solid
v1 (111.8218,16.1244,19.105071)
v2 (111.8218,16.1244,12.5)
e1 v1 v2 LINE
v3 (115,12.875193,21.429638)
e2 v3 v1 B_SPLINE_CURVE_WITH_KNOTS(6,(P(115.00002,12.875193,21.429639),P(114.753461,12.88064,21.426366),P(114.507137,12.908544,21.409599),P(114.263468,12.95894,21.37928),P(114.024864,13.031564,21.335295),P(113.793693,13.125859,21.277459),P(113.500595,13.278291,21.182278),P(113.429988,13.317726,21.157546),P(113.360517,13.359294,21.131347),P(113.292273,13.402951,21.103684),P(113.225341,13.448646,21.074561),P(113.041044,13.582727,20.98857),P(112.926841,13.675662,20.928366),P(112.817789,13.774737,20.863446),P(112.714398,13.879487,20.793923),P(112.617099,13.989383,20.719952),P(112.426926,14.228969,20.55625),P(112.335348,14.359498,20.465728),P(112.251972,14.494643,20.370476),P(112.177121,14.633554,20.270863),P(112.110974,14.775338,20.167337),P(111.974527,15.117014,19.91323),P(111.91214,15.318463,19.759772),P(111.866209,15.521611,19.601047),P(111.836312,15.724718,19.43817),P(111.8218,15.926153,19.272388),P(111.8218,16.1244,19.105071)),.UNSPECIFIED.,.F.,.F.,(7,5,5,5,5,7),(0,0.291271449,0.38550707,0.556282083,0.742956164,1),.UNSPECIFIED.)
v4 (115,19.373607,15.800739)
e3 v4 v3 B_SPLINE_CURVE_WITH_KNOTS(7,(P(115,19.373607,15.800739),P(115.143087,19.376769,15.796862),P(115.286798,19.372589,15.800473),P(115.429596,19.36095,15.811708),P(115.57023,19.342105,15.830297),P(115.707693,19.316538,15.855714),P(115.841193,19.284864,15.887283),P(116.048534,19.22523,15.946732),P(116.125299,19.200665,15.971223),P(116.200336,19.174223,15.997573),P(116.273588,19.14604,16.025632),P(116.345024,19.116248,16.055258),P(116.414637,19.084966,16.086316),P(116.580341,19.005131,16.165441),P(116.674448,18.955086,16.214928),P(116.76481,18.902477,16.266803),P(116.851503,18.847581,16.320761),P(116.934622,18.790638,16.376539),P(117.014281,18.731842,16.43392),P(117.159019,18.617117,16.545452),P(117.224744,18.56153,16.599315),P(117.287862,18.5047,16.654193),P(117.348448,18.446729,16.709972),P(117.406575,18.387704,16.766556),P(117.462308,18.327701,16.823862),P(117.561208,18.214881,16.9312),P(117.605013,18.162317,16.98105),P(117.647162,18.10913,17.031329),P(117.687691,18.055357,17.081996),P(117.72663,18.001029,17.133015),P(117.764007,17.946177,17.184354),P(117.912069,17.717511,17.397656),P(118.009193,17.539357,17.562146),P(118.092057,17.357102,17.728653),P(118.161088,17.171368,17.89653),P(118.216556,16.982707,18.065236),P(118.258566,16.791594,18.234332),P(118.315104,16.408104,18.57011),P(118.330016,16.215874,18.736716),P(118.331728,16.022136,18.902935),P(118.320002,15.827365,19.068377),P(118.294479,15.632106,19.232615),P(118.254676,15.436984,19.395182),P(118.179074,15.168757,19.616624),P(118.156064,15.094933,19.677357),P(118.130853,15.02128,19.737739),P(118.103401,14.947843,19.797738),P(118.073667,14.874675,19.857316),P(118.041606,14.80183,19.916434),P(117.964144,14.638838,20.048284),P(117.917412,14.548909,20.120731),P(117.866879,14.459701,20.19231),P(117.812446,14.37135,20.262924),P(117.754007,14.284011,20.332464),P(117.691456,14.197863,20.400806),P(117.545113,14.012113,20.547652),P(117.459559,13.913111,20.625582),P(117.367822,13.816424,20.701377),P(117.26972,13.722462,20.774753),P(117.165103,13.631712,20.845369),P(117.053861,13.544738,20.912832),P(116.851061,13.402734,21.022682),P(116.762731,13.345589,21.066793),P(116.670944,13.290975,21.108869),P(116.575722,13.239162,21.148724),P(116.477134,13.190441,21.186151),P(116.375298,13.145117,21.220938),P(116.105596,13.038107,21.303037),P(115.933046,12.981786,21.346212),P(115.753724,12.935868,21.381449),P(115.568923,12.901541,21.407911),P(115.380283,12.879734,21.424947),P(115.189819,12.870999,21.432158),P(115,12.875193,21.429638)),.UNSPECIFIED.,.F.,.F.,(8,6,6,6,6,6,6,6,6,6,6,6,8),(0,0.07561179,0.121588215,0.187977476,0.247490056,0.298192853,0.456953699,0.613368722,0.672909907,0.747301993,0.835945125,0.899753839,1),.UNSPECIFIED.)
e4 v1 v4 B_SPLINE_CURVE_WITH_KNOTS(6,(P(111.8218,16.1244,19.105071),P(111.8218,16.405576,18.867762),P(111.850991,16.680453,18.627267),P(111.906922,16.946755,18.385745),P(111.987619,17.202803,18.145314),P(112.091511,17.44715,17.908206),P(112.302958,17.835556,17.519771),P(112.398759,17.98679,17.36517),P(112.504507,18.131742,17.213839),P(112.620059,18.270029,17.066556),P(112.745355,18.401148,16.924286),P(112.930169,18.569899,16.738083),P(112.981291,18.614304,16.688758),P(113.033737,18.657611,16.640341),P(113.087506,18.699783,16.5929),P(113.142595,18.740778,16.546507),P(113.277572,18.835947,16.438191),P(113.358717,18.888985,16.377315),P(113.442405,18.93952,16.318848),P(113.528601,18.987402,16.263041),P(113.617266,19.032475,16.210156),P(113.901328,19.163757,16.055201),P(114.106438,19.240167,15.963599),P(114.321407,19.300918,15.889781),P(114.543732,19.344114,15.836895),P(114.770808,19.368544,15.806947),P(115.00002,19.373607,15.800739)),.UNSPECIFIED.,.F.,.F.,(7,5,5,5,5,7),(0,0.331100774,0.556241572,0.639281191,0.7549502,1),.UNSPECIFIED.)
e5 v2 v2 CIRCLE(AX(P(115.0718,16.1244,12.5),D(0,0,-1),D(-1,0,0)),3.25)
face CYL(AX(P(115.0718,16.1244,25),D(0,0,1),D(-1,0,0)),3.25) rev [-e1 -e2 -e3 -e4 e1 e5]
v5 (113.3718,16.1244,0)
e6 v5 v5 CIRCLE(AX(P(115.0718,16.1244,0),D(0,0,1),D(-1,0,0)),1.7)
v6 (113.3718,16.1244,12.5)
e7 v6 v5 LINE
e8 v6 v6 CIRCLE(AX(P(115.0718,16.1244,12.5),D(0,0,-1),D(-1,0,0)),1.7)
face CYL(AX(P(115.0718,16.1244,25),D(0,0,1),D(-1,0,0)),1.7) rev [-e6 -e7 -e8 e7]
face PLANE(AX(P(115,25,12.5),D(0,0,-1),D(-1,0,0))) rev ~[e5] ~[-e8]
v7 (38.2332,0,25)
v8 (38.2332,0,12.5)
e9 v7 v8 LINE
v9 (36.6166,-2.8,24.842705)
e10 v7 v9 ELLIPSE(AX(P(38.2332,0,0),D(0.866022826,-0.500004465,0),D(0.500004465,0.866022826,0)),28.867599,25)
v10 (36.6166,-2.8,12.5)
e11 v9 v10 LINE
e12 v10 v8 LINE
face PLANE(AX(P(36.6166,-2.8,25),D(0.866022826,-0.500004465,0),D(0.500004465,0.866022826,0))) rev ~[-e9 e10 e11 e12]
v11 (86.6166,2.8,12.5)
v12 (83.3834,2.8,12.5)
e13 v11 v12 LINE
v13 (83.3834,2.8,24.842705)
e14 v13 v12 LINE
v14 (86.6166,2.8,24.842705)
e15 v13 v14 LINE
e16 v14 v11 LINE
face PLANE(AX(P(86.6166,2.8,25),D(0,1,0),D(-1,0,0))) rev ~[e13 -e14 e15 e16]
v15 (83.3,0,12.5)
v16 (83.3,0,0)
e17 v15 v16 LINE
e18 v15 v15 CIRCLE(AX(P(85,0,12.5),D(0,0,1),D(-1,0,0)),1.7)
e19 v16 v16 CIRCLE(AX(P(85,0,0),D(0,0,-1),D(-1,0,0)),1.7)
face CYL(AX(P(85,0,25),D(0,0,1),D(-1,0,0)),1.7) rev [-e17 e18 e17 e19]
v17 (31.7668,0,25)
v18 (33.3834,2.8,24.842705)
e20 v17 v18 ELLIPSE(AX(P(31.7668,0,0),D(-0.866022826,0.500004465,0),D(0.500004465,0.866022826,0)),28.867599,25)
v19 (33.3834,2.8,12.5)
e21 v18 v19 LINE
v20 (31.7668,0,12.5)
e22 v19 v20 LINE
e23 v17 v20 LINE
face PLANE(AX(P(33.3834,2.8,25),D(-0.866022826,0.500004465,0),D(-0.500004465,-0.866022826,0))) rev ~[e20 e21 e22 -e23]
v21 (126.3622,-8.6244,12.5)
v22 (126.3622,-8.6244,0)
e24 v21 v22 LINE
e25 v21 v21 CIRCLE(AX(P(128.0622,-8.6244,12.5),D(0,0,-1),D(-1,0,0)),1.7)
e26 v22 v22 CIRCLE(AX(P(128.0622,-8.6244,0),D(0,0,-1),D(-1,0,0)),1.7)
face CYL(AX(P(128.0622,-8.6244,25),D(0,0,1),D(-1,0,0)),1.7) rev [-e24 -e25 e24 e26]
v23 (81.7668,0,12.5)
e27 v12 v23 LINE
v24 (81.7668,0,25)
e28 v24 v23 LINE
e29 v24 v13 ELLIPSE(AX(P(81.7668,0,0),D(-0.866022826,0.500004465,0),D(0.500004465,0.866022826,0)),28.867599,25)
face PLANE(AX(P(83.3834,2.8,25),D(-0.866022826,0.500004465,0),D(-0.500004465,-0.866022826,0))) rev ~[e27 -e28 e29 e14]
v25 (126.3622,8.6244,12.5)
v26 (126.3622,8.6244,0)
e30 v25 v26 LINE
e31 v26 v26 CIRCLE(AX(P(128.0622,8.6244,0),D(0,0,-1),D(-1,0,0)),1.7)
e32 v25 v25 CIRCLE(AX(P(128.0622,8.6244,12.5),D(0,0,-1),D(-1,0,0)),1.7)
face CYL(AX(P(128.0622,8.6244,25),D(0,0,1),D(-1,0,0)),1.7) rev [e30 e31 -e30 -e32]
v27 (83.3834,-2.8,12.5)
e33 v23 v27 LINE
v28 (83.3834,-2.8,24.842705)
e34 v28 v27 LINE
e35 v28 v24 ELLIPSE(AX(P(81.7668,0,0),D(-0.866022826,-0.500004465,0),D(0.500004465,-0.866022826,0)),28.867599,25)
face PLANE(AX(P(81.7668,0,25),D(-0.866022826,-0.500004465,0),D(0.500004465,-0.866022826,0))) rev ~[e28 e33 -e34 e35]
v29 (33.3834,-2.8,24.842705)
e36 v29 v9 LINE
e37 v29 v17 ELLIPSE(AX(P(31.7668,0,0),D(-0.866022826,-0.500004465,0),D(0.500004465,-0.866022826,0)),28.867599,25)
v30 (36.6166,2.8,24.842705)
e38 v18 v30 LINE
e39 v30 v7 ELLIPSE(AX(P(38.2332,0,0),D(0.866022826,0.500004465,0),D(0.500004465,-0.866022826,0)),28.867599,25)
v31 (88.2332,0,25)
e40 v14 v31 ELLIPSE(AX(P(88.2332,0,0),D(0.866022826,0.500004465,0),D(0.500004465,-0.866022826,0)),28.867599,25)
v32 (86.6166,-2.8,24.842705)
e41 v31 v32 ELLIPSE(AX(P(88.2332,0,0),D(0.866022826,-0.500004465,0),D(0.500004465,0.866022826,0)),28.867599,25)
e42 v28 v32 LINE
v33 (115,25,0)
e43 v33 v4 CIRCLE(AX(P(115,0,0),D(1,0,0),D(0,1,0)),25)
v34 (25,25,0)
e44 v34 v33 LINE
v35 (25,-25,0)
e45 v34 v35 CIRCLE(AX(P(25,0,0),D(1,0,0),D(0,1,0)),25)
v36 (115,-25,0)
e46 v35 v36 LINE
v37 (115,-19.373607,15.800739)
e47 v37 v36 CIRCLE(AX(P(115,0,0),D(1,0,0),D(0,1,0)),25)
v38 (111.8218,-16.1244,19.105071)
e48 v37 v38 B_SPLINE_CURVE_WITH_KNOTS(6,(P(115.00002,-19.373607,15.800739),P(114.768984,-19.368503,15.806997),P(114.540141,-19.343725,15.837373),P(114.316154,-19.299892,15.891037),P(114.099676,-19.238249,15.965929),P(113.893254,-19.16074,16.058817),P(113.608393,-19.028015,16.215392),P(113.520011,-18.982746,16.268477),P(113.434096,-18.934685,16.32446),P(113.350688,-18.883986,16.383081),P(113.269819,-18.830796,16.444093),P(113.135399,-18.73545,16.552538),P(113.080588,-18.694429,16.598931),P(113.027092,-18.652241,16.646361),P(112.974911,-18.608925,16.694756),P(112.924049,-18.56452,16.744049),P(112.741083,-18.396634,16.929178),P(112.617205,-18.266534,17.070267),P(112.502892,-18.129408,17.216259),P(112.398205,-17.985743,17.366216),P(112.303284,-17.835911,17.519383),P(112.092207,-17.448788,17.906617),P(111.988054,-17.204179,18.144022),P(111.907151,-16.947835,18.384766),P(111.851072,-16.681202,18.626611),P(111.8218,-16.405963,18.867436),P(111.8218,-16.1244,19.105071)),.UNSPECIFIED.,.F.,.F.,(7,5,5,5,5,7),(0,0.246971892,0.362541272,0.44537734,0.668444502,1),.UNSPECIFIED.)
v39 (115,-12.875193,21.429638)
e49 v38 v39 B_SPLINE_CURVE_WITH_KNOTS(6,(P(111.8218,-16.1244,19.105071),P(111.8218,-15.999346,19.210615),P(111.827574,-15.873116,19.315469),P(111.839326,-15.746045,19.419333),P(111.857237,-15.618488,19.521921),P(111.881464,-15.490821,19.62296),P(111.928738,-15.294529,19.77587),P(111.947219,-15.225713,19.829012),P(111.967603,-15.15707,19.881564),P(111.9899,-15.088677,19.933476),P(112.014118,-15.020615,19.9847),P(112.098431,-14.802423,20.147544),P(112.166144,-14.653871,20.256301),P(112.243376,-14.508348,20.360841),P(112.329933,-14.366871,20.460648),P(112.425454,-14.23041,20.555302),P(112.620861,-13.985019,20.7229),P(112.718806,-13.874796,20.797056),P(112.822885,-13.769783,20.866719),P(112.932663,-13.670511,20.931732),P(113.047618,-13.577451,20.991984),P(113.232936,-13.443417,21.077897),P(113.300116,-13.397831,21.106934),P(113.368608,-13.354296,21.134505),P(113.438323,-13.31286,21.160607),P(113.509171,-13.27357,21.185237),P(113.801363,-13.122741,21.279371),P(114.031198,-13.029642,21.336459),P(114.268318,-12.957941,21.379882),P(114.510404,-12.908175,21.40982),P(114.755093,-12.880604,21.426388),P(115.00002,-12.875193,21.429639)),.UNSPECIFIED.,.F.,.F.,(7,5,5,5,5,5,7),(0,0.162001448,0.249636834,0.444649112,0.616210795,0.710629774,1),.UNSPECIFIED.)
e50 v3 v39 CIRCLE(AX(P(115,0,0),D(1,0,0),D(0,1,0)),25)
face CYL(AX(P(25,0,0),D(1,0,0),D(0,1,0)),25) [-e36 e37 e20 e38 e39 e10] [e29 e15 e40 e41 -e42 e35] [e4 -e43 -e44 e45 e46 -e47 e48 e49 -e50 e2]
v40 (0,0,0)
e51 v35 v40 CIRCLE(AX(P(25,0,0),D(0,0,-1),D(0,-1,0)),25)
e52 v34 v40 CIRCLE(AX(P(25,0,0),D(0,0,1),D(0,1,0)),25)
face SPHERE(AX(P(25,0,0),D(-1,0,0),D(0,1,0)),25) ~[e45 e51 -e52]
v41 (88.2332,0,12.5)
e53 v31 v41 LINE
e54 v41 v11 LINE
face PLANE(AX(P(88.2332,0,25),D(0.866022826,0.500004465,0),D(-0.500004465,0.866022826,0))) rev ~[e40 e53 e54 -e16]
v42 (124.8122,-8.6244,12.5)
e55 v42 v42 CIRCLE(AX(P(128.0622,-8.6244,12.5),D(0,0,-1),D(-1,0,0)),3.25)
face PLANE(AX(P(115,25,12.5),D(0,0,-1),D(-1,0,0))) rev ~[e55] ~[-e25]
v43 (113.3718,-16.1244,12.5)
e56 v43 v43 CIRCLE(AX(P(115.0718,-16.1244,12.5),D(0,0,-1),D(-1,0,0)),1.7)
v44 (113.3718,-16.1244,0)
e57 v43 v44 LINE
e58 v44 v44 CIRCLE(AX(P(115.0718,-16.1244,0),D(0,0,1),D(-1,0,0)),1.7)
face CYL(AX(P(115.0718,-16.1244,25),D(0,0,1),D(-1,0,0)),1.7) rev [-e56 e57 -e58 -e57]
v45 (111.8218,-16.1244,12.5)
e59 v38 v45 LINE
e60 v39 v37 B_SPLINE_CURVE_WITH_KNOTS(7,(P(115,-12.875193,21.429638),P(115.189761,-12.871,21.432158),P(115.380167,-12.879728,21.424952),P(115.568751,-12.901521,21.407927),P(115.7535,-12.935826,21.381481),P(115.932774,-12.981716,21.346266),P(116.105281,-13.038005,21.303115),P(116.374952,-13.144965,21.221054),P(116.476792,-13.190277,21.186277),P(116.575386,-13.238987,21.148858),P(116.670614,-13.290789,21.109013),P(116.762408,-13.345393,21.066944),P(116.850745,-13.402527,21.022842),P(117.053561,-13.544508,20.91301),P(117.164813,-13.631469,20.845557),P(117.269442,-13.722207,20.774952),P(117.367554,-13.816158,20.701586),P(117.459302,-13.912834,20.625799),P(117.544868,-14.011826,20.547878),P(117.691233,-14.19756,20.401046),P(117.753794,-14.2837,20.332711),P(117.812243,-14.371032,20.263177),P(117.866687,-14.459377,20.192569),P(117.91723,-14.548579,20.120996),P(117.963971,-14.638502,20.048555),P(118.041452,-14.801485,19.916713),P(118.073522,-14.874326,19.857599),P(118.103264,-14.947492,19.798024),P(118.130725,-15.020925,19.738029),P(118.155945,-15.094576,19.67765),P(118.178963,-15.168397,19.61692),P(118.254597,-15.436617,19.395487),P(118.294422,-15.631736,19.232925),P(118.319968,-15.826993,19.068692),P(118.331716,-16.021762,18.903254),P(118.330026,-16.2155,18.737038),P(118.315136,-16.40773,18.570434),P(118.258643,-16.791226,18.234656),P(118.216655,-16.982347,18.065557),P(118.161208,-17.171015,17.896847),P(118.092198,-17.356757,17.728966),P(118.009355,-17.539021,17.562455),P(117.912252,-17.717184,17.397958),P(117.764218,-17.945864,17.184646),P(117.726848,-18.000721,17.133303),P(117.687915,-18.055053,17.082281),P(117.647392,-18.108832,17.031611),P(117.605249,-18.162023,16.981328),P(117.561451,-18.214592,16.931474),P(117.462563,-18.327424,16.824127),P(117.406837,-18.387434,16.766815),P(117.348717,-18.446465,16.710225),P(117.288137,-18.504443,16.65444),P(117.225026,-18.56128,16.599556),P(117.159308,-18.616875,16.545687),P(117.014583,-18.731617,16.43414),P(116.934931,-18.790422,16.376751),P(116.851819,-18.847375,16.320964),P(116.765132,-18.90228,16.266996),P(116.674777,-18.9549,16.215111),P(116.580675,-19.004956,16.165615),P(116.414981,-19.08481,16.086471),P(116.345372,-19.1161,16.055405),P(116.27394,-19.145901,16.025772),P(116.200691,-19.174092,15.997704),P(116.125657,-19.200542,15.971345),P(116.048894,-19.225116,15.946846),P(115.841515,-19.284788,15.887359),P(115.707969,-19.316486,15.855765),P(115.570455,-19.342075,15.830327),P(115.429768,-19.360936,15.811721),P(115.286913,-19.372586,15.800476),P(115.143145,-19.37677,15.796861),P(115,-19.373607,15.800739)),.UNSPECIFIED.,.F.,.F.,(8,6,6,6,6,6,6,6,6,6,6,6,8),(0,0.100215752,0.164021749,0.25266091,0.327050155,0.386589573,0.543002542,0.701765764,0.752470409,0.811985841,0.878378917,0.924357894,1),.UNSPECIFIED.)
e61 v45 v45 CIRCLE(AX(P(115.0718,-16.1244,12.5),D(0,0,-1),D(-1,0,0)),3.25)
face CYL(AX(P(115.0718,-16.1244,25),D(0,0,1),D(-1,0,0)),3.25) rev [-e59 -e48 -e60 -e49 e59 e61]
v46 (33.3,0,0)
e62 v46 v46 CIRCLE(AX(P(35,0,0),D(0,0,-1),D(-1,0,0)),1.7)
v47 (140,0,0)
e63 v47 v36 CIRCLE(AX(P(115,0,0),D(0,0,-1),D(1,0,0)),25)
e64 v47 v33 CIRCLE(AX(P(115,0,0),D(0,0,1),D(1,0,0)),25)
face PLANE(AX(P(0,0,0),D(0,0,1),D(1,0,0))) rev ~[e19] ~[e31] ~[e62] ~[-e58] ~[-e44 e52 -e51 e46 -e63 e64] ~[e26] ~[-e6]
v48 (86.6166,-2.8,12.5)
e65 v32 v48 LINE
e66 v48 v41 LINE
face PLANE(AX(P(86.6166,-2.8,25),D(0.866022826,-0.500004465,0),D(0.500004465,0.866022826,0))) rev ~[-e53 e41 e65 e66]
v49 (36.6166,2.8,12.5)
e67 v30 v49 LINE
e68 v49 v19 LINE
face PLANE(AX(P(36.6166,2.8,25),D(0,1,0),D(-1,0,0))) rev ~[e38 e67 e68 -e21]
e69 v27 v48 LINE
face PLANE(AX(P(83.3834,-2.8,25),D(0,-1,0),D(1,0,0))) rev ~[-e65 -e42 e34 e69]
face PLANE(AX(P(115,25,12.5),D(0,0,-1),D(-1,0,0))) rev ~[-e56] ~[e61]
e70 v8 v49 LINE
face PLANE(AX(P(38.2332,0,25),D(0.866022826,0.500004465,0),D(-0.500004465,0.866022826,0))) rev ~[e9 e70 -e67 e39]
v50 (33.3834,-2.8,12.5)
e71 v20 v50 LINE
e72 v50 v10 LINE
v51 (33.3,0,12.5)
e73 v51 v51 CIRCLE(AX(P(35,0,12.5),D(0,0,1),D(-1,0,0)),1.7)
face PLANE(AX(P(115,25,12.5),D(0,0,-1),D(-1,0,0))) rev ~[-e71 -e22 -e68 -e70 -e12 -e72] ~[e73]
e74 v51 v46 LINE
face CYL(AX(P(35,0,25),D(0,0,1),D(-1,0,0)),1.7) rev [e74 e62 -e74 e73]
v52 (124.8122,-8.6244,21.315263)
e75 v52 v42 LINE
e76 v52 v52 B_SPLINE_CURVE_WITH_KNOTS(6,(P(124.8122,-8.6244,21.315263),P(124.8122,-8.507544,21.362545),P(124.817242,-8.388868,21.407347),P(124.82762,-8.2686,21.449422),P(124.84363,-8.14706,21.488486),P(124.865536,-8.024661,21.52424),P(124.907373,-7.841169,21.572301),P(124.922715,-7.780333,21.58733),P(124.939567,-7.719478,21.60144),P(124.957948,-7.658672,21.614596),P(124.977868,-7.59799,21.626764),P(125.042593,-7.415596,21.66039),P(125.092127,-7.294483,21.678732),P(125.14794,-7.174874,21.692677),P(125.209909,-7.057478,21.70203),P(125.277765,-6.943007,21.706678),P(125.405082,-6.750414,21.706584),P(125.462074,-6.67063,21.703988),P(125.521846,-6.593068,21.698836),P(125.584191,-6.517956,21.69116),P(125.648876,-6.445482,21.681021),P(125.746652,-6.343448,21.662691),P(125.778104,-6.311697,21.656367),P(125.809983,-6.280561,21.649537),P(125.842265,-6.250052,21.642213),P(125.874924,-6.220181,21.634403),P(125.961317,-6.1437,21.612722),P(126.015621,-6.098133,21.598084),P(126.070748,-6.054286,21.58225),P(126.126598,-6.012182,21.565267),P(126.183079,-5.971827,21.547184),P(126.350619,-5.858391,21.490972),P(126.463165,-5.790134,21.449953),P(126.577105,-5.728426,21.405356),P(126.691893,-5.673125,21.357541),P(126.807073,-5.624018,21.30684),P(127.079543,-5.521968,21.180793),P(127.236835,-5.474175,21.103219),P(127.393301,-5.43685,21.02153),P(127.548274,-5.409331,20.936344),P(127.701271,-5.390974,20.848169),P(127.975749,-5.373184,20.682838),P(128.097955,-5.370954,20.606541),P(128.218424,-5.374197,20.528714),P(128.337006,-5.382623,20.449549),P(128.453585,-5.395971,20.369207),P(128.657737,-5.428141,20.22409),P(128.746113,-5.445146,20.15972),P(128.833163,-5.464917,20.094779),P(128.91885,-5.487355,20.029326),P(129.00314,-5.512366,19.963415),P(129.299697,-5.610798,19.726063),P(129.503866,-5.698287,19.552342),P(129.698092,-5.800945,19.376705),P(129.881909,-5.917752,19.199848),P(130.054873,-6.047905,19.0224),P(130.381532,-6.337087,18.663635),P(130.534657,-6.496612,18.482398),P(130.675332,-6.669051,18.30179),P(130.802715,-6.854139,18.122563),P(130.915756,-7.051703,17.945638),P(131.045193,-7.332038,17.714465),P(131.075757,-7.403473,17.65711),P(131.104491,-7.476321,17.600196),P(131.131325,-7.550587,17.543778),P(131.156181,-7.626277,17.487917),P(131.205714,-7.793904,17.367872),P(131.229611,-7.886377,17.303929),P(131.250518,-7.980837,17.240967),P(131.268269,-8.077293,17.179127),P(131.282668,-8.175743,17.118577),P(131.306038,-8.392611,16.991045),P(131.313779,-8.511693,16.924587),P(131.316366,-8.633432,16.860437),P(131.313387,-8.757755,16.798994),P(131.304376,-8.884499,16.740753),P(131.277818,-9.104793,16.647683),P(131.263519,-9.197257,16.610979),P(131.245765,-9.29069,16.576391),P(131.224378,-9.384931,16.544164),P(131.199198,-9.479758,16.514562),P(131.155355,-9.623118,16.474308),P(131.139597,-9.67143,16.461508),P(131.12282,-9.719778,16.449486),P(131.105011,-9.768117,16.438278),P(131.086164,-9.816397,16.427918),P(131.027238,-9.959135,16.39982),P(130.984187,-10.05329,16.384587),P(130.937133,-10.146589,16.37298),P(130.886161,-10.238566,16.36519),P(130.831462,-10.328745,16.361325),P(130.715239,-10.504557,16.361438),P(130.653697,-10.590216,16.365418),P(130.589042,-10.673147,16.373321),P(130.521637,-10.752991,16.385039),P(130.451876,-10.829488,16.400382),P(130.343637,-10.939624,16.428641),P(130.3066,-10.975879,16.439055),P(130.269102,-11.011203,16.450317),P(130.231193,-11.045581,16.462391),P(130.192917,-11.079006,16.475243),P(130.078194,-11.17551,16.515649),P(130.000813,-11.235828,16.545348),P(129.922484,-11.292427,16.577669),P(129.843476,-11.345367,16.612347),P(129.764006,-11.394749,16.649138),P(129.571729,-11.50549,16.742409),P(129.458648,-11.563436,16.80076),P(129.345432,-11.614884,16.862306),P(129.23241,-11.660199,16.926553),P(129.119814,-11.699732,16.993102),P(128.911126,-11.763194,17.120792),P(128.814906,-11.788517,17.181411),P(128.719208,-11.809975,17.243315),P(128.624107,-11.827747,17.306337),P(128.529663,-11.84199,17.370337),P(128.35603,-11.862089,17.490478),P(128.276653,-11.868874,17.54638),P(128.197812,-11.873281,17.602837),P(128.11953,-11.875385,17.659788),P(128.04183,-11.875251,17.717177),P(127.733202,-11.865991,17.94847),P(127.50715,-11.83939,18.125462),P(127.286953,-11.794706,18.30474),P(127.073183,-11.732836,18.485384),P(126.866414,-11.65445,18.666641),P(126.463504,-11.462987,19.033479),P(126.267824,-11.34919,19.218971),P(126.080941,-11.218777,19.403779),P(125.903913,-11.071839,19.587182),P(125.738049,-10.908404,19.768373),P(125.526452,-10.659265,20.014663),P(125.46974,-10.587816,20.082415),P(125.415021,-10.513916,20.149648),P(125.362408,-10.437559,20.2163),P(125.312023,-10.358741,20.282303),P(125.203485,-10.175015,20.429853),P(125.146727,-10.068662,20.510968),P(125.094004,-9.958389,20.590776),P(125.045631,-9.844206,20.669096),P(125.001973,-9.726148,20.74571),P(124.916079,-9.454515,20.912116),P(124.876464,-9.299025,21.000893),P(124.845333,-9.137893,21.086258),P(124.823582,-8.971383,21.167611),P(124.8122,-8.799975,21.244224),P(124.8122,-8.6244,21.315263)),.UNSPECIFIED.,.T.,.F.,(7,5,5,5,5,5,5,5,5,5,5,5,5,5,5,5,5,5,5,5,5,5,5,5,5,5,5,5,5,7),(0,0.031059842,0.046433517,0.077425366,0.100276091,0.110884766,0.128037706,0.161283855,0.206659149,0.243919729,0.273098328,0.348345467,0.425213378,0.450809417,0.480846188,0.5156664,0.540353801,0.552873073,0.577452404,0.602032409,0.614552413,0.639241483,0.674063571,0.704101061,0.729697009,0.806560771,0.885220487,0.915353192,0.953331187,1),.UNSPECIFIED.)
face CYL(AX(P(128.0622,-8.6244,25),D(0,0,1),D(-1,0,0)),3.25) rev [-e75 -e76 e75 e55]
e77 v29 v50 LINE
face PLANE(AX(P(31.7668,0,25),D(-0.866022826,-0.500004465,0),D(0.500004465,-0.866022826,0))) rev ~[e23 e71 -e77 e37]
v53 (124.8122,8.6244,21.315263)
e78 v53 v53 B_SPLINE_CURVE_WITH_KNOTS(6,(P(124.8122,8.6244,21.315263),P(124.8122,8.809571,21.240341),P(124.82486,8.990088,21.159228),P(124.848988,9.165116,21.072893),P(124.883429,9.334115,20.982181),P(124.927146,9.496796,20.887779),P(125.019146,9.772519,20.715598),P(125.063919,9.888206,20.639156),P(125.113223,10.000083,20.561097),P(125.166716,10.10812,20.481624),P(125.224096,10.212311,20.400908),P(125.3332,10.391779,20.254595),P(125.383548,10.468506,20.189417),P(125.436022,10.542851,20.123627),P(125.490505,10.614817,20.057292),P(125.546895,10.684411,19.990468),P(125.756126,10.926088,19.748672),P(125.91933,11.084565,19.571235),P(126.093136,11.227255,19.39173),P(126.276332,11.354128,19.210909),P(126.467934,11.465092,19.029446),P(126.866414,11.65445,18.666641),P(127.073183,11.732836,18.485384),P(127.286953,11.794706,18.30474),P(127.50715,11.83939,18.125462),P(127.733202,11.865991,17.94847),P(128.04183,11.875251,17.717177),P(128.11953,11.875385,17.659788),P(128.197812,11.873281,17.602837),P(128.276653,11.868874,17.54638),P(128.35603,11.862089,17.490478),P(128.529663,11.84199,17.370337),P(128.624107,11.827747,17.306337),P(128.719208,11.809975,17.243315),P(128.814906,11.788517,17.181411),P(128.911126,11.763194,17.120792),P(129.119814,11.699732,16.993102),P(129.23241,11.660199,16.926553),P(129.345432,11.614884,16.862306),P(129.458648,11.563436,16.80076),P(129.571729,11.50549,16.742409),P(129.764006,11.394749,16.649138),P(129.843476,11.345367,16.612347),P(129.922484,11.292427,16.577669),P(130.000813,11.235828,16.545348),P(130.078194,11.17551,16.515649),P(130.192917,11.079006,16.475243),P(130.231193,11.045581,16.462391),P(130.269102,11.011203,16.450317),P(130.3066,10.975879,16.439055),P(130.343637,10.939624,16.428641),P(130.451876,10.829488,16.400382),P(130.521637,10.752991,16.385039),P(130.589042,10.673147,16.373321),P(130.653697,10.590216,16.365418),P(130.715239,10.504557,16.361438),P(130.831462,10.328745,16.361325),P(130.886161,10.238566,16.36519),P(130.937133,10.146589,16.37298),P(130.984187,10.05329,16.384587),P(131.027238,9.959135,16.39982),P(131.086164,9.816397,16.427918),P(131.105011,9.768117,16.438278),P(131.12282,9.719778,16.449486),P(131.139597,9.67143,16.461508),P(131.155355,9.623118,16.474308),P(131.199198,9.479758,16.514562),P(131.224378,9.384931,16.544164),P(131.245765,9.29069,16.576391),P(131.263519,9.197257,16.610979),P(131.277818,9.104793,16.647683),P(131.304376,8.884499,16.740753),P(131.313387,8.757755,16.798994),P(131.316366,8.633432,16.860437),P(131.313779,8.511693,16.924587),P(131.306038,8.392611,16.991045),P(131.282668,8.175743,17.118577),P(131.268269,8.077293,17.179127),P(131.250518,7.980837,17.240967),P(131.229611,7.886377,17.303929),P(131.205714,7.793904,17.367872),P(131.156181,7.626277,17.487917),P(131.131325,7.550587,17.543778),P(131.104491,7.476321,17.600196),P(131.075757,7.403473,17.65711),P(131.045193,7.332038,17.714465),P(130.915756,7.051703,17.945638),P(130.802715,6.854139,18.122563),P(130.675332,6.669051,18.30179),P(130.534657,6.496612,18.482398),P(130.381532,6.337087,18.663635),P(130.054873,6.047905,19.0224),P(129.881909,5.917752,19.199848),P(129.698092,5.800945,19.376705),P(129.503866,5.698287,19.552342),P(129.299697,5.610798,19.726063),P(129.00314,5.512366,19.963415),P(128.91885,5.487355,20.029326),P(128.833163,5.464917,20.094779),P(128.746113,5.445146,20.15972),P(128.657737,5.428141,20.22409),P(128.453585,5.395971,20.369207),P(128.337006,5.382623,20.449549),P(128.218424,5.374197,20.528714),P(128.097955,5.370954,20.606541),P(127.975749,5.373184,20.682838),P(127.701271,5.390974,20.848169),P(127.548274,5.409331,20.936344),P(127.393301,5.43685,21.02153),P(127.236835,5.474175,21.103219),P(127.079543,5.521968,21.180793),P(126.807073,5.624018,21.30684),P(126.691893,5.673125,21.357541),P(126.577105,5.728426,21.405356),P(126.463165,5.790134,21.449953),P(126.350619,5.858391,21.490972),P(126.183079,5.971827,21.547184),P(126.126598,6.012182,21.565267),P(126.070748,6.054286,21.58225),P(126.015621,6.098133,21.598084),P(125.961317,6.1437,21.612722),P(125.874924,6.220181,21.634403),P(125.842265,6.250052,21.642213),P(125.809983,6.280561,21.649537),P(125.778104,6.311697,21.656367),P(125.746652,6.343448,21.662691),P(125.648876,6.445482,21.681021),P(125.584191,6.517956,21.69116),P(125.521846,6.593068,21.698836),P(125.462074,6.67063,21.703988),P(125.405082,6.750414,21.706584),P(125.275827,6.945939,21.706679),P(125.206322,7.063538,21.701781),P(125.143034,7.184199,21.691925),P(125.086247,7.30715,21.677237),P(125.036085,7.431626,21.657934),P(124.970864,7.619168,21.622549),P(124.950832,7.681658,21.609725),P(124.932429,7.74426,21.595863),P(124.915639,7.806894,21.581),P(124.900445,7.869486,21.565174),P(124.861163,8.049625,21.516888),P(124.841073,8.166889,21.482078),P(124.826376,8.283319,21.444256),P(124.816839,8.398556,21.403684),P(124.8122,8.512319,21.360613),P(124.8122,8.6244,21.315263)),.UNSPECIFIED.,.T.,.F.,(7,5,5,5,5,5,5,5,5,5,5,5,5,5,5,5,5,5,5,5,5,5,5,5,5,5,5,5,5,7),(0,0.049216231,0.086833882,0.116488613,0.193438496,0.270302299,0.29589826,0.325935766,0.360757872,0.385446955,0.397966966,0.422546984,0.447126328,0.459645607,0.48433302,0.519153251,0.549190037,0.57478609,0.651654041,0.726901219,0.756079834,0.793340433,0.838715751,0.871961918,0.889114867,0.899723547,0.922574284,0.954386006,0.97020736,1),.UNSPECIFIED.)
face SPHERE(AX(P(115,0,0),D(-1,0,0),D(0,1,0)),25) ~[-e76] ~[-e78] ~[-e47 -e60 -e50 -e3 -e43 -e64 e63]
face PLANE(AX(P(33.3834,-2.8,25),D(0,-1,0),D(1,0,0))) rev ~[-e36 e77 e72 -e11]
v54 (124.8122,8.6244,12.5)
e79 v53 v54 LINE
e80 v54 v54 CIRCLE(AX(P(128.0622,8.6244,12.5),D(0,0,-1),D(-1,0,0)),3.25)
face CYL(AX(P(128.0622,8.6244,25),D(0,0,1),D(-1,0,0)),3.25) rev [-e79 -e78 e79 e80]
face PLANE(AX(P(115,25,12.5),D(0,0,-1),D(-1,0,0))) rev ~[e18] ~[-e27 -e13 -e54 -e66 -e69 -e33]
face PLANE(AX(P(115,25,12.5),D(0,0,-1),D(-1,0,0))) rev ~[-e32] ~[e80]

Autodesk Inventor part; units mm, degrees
ref_plane "Plan YZ" through (0, 0, 0) normal (1, 0, 0) x (0, 1, 0)
ref_plane "Plan XZ" through (0, 0, 0) normal (0, 1, 0) x (-1, 0, 0)
sketch "Esquisse1" plane through (0, 0, 0) normal (0, 0, 1) x (1, 0, 0)
  arc A0 (25, 25) -> (0, 0) centre (25, 0) ccw
  line L0 (25, 25) -> (115, 25)
  arc A1 (140, 0) -> (115, 25) centre (115, 0) ccw
  line L1 (0, 0) -> (140, 0)
  dimension "d0" = 90
  dimension "d1" = 25
revolve "Révolution1" add sketch "Esquisse1" angle 180 about axis through (0, 0, 0) along (1, 0, 0)
ref_plane "Plan de construction1" through (115, 25, 25) normal (0, 0, -1) x (-1, 0, 0)
sketch "Esquisse6" plane through (115, 25, 25) normal (0, 0, -1) x (-1, 0, 0)
  line L0 (76.7668, -25) -> (78.3834, -22.2)
  line L1 (78.3834, -22.2) -> (81.6166, -22.2)
  line L2 (81.6166, -22.2) -> (83.2332, -25)
  line L3 (83.2332, -25) -> (81.6166, -27.8)
  line L4 (81.6166, -27.8) -> (78.3834, -27.8)
  line L5 (78.3834, -27.8) -> (76.7668, -25)
  line L6 (90, 0) -> (90, -50) projected
  line L7 (26.7668, -25) -> (28.3834, -22.2)
  line L8 (28.3834, -22.2) -> (31.6166, -22.2)
  line L9 (31.6166, -22.2) -> (33.2332, -25)
  line L10 (33.2332, -25) -> (31.6166, -27.8)
  line L11 (31.6166, -27.8) -> (28.3834, -27.8)
  line L12 (28.3834, -27.8) -> (26.7668, -25)
  line L13 (30, -25) -> (26.7668, -25) construction
  line L14 (90, -25) -> (19.1163, -25) construction
  line L15 (80, -25) -> (76.7668, -25) construction
  point P0 (115, -25)
  dimension "d4" = 5.6
  dimension "d5" = 10
  dimension "d6" = 50
  dimension "d7" = 5.6
extrude "Extrusion1" cut sketch "Esquisse6" along normal blind 12.5
sketch "Esquisse7" plane through (115, 25, 25) normal (0, 0, -1) x (-1, 0, 0)
  circle A0 centre (80, -25) radius 3.2332 construction
  circle A1 centre (30, -25) radius 3.2332 construction
  circle A2 centre (80, -25) radius 1.7
  circle A3 centre (30, -25) radius 1.7
  point P0 (115, -25)
  point P1 (78.3834, -22.2)
  point P2 (28.3834, -22.2)
  point P3 (31.6166, -27.8)
  point P4 (28.3834, -27.8)
  point P5 (81.6166, -27.8)
  point P6 (78.3834, -27.8)
  dimension "d10" = 3.4
  dimension "d11" = 3.4
extrude "Extrusion2" cut sketch "Esquisse7" along normal blind 25
sketch "Esquisse8" plane through (115, 25, 25) normal (0, 0, -1) x (-1, 0, 0)
  line L0 (0.0645, -24.9628) -> (43.3013, 0) construction
  line L1 (43.3013, 0) -> (30.8013, 21.6506) construction
  line L2 (30.8013, 21.6506) -> (-34.1506, -15.8494) construction
  line L3 (-34.1506, -15.8494) -> (-21.6506, -37.5) construction
  line L4 (-21.6506, -37.5) -> (0.0645, -24.9628) construction
  arc A0 (0, 0) -> (0, -50) centre (0, -25) ccw projected
  line L5 (0, 0) -> (0, -50) projected
  line L6 (90, 0) -> (0, 0) projected
  line L7 (-0.0718, -8.8756) -> (-13.0622, -16.3756) construction
  circle A1 centre (-0.0718, -8.8756) radius 1.7
  circle A2 centre (-13.0622, -16.3756) radius 1.7
  line L8 (77.468, -25) -> (33.5617, -25) construction
  line L9 (55.5148, -25) -> (55.5148, 0) construction
  line L10 (55.5148, -25) -> (55.5148, -50) construction
  line L11 (0, -50) -> (90, -50) construction
  line L12 (-34.1506, -34.1506) -> (-21.6506, -12.5) construction
  line L13 (-21.6506, -12.5) -> (0.0645, -25.0372) construction
  arc A3 (0, 0) -> (0, -50) centre (0, -25) ccw
  line L14 (0, -50) -> (0, 0)
  line L15 (-0.0718, -41.1244) -> (-13.0622, -33.6244) construction
  circle A4 centre (-0.0718, -41.1244) radius 1.7
  circle A5 centre (-13.0622, -33.6244) radius 1.7
  point P0 (115, -25)
  dimension "d14" = 60
  dimension "d15" = 14
  dimension "d16" = 18
  dimension "d17" = 33
  dimension "d18" = 3.4
  dimension "d19" = 3.4
extrude "Extrusion3" cut sketch "Esquisse8" along normal blind 25 contours A1 L5 | L5 A1 | A4 L5 | L5 A4 | A2 | A5
sketch "Esquisse9" plane through (115, 25, 25) normal (0, 0, -1) x (-1, 0, 0)
  circle A0 centre (-0.0718, -8.8756) radius 3.25
  circle A1 centre (-13.0622, -16.3756) radius 3.25
  circle A2 centre (-0.0718, -8.8756) radius 1.7 projected
  circle A3 centre (-13.0622, -16.3756) radius 1.7 projected
  line L0 (67.152, -25) -> (35.9514, -25) construction
  line L1 (51.5517, -50) -> (51.5517, -25) construction
  line L2 (51.5517, -25) -> (51.5517, 0) construction
  line L3 (90, 0) -> (0, 0) construction
  line L4 (0, -50) -> (90, -50) construction
  circle A4 centre (-0.0718, -41.1244) radius 3.25
  circle A5 centre (-13.0622, -33.6244) radius 3.25
  circle A6 centre (-0.0718, -41.1244) radius 1.7
  circle A7 centre (-13.0622, -33.6244) radius 1.7
  point P0 (115, -25)
  dimension "d22" = 6.5
  dimension "d23" = 6.5
extrude "Extrusion4" cut sketch "Esquisse9" along normal blind 12.5
equation "\"d7\" = d4"
equation "\"d11\" = d10"
equation "\"d19\" = d18"
equation "\"d23\" = d22"
properties part number "P1704_004_mainExterieur" material "PLA"
